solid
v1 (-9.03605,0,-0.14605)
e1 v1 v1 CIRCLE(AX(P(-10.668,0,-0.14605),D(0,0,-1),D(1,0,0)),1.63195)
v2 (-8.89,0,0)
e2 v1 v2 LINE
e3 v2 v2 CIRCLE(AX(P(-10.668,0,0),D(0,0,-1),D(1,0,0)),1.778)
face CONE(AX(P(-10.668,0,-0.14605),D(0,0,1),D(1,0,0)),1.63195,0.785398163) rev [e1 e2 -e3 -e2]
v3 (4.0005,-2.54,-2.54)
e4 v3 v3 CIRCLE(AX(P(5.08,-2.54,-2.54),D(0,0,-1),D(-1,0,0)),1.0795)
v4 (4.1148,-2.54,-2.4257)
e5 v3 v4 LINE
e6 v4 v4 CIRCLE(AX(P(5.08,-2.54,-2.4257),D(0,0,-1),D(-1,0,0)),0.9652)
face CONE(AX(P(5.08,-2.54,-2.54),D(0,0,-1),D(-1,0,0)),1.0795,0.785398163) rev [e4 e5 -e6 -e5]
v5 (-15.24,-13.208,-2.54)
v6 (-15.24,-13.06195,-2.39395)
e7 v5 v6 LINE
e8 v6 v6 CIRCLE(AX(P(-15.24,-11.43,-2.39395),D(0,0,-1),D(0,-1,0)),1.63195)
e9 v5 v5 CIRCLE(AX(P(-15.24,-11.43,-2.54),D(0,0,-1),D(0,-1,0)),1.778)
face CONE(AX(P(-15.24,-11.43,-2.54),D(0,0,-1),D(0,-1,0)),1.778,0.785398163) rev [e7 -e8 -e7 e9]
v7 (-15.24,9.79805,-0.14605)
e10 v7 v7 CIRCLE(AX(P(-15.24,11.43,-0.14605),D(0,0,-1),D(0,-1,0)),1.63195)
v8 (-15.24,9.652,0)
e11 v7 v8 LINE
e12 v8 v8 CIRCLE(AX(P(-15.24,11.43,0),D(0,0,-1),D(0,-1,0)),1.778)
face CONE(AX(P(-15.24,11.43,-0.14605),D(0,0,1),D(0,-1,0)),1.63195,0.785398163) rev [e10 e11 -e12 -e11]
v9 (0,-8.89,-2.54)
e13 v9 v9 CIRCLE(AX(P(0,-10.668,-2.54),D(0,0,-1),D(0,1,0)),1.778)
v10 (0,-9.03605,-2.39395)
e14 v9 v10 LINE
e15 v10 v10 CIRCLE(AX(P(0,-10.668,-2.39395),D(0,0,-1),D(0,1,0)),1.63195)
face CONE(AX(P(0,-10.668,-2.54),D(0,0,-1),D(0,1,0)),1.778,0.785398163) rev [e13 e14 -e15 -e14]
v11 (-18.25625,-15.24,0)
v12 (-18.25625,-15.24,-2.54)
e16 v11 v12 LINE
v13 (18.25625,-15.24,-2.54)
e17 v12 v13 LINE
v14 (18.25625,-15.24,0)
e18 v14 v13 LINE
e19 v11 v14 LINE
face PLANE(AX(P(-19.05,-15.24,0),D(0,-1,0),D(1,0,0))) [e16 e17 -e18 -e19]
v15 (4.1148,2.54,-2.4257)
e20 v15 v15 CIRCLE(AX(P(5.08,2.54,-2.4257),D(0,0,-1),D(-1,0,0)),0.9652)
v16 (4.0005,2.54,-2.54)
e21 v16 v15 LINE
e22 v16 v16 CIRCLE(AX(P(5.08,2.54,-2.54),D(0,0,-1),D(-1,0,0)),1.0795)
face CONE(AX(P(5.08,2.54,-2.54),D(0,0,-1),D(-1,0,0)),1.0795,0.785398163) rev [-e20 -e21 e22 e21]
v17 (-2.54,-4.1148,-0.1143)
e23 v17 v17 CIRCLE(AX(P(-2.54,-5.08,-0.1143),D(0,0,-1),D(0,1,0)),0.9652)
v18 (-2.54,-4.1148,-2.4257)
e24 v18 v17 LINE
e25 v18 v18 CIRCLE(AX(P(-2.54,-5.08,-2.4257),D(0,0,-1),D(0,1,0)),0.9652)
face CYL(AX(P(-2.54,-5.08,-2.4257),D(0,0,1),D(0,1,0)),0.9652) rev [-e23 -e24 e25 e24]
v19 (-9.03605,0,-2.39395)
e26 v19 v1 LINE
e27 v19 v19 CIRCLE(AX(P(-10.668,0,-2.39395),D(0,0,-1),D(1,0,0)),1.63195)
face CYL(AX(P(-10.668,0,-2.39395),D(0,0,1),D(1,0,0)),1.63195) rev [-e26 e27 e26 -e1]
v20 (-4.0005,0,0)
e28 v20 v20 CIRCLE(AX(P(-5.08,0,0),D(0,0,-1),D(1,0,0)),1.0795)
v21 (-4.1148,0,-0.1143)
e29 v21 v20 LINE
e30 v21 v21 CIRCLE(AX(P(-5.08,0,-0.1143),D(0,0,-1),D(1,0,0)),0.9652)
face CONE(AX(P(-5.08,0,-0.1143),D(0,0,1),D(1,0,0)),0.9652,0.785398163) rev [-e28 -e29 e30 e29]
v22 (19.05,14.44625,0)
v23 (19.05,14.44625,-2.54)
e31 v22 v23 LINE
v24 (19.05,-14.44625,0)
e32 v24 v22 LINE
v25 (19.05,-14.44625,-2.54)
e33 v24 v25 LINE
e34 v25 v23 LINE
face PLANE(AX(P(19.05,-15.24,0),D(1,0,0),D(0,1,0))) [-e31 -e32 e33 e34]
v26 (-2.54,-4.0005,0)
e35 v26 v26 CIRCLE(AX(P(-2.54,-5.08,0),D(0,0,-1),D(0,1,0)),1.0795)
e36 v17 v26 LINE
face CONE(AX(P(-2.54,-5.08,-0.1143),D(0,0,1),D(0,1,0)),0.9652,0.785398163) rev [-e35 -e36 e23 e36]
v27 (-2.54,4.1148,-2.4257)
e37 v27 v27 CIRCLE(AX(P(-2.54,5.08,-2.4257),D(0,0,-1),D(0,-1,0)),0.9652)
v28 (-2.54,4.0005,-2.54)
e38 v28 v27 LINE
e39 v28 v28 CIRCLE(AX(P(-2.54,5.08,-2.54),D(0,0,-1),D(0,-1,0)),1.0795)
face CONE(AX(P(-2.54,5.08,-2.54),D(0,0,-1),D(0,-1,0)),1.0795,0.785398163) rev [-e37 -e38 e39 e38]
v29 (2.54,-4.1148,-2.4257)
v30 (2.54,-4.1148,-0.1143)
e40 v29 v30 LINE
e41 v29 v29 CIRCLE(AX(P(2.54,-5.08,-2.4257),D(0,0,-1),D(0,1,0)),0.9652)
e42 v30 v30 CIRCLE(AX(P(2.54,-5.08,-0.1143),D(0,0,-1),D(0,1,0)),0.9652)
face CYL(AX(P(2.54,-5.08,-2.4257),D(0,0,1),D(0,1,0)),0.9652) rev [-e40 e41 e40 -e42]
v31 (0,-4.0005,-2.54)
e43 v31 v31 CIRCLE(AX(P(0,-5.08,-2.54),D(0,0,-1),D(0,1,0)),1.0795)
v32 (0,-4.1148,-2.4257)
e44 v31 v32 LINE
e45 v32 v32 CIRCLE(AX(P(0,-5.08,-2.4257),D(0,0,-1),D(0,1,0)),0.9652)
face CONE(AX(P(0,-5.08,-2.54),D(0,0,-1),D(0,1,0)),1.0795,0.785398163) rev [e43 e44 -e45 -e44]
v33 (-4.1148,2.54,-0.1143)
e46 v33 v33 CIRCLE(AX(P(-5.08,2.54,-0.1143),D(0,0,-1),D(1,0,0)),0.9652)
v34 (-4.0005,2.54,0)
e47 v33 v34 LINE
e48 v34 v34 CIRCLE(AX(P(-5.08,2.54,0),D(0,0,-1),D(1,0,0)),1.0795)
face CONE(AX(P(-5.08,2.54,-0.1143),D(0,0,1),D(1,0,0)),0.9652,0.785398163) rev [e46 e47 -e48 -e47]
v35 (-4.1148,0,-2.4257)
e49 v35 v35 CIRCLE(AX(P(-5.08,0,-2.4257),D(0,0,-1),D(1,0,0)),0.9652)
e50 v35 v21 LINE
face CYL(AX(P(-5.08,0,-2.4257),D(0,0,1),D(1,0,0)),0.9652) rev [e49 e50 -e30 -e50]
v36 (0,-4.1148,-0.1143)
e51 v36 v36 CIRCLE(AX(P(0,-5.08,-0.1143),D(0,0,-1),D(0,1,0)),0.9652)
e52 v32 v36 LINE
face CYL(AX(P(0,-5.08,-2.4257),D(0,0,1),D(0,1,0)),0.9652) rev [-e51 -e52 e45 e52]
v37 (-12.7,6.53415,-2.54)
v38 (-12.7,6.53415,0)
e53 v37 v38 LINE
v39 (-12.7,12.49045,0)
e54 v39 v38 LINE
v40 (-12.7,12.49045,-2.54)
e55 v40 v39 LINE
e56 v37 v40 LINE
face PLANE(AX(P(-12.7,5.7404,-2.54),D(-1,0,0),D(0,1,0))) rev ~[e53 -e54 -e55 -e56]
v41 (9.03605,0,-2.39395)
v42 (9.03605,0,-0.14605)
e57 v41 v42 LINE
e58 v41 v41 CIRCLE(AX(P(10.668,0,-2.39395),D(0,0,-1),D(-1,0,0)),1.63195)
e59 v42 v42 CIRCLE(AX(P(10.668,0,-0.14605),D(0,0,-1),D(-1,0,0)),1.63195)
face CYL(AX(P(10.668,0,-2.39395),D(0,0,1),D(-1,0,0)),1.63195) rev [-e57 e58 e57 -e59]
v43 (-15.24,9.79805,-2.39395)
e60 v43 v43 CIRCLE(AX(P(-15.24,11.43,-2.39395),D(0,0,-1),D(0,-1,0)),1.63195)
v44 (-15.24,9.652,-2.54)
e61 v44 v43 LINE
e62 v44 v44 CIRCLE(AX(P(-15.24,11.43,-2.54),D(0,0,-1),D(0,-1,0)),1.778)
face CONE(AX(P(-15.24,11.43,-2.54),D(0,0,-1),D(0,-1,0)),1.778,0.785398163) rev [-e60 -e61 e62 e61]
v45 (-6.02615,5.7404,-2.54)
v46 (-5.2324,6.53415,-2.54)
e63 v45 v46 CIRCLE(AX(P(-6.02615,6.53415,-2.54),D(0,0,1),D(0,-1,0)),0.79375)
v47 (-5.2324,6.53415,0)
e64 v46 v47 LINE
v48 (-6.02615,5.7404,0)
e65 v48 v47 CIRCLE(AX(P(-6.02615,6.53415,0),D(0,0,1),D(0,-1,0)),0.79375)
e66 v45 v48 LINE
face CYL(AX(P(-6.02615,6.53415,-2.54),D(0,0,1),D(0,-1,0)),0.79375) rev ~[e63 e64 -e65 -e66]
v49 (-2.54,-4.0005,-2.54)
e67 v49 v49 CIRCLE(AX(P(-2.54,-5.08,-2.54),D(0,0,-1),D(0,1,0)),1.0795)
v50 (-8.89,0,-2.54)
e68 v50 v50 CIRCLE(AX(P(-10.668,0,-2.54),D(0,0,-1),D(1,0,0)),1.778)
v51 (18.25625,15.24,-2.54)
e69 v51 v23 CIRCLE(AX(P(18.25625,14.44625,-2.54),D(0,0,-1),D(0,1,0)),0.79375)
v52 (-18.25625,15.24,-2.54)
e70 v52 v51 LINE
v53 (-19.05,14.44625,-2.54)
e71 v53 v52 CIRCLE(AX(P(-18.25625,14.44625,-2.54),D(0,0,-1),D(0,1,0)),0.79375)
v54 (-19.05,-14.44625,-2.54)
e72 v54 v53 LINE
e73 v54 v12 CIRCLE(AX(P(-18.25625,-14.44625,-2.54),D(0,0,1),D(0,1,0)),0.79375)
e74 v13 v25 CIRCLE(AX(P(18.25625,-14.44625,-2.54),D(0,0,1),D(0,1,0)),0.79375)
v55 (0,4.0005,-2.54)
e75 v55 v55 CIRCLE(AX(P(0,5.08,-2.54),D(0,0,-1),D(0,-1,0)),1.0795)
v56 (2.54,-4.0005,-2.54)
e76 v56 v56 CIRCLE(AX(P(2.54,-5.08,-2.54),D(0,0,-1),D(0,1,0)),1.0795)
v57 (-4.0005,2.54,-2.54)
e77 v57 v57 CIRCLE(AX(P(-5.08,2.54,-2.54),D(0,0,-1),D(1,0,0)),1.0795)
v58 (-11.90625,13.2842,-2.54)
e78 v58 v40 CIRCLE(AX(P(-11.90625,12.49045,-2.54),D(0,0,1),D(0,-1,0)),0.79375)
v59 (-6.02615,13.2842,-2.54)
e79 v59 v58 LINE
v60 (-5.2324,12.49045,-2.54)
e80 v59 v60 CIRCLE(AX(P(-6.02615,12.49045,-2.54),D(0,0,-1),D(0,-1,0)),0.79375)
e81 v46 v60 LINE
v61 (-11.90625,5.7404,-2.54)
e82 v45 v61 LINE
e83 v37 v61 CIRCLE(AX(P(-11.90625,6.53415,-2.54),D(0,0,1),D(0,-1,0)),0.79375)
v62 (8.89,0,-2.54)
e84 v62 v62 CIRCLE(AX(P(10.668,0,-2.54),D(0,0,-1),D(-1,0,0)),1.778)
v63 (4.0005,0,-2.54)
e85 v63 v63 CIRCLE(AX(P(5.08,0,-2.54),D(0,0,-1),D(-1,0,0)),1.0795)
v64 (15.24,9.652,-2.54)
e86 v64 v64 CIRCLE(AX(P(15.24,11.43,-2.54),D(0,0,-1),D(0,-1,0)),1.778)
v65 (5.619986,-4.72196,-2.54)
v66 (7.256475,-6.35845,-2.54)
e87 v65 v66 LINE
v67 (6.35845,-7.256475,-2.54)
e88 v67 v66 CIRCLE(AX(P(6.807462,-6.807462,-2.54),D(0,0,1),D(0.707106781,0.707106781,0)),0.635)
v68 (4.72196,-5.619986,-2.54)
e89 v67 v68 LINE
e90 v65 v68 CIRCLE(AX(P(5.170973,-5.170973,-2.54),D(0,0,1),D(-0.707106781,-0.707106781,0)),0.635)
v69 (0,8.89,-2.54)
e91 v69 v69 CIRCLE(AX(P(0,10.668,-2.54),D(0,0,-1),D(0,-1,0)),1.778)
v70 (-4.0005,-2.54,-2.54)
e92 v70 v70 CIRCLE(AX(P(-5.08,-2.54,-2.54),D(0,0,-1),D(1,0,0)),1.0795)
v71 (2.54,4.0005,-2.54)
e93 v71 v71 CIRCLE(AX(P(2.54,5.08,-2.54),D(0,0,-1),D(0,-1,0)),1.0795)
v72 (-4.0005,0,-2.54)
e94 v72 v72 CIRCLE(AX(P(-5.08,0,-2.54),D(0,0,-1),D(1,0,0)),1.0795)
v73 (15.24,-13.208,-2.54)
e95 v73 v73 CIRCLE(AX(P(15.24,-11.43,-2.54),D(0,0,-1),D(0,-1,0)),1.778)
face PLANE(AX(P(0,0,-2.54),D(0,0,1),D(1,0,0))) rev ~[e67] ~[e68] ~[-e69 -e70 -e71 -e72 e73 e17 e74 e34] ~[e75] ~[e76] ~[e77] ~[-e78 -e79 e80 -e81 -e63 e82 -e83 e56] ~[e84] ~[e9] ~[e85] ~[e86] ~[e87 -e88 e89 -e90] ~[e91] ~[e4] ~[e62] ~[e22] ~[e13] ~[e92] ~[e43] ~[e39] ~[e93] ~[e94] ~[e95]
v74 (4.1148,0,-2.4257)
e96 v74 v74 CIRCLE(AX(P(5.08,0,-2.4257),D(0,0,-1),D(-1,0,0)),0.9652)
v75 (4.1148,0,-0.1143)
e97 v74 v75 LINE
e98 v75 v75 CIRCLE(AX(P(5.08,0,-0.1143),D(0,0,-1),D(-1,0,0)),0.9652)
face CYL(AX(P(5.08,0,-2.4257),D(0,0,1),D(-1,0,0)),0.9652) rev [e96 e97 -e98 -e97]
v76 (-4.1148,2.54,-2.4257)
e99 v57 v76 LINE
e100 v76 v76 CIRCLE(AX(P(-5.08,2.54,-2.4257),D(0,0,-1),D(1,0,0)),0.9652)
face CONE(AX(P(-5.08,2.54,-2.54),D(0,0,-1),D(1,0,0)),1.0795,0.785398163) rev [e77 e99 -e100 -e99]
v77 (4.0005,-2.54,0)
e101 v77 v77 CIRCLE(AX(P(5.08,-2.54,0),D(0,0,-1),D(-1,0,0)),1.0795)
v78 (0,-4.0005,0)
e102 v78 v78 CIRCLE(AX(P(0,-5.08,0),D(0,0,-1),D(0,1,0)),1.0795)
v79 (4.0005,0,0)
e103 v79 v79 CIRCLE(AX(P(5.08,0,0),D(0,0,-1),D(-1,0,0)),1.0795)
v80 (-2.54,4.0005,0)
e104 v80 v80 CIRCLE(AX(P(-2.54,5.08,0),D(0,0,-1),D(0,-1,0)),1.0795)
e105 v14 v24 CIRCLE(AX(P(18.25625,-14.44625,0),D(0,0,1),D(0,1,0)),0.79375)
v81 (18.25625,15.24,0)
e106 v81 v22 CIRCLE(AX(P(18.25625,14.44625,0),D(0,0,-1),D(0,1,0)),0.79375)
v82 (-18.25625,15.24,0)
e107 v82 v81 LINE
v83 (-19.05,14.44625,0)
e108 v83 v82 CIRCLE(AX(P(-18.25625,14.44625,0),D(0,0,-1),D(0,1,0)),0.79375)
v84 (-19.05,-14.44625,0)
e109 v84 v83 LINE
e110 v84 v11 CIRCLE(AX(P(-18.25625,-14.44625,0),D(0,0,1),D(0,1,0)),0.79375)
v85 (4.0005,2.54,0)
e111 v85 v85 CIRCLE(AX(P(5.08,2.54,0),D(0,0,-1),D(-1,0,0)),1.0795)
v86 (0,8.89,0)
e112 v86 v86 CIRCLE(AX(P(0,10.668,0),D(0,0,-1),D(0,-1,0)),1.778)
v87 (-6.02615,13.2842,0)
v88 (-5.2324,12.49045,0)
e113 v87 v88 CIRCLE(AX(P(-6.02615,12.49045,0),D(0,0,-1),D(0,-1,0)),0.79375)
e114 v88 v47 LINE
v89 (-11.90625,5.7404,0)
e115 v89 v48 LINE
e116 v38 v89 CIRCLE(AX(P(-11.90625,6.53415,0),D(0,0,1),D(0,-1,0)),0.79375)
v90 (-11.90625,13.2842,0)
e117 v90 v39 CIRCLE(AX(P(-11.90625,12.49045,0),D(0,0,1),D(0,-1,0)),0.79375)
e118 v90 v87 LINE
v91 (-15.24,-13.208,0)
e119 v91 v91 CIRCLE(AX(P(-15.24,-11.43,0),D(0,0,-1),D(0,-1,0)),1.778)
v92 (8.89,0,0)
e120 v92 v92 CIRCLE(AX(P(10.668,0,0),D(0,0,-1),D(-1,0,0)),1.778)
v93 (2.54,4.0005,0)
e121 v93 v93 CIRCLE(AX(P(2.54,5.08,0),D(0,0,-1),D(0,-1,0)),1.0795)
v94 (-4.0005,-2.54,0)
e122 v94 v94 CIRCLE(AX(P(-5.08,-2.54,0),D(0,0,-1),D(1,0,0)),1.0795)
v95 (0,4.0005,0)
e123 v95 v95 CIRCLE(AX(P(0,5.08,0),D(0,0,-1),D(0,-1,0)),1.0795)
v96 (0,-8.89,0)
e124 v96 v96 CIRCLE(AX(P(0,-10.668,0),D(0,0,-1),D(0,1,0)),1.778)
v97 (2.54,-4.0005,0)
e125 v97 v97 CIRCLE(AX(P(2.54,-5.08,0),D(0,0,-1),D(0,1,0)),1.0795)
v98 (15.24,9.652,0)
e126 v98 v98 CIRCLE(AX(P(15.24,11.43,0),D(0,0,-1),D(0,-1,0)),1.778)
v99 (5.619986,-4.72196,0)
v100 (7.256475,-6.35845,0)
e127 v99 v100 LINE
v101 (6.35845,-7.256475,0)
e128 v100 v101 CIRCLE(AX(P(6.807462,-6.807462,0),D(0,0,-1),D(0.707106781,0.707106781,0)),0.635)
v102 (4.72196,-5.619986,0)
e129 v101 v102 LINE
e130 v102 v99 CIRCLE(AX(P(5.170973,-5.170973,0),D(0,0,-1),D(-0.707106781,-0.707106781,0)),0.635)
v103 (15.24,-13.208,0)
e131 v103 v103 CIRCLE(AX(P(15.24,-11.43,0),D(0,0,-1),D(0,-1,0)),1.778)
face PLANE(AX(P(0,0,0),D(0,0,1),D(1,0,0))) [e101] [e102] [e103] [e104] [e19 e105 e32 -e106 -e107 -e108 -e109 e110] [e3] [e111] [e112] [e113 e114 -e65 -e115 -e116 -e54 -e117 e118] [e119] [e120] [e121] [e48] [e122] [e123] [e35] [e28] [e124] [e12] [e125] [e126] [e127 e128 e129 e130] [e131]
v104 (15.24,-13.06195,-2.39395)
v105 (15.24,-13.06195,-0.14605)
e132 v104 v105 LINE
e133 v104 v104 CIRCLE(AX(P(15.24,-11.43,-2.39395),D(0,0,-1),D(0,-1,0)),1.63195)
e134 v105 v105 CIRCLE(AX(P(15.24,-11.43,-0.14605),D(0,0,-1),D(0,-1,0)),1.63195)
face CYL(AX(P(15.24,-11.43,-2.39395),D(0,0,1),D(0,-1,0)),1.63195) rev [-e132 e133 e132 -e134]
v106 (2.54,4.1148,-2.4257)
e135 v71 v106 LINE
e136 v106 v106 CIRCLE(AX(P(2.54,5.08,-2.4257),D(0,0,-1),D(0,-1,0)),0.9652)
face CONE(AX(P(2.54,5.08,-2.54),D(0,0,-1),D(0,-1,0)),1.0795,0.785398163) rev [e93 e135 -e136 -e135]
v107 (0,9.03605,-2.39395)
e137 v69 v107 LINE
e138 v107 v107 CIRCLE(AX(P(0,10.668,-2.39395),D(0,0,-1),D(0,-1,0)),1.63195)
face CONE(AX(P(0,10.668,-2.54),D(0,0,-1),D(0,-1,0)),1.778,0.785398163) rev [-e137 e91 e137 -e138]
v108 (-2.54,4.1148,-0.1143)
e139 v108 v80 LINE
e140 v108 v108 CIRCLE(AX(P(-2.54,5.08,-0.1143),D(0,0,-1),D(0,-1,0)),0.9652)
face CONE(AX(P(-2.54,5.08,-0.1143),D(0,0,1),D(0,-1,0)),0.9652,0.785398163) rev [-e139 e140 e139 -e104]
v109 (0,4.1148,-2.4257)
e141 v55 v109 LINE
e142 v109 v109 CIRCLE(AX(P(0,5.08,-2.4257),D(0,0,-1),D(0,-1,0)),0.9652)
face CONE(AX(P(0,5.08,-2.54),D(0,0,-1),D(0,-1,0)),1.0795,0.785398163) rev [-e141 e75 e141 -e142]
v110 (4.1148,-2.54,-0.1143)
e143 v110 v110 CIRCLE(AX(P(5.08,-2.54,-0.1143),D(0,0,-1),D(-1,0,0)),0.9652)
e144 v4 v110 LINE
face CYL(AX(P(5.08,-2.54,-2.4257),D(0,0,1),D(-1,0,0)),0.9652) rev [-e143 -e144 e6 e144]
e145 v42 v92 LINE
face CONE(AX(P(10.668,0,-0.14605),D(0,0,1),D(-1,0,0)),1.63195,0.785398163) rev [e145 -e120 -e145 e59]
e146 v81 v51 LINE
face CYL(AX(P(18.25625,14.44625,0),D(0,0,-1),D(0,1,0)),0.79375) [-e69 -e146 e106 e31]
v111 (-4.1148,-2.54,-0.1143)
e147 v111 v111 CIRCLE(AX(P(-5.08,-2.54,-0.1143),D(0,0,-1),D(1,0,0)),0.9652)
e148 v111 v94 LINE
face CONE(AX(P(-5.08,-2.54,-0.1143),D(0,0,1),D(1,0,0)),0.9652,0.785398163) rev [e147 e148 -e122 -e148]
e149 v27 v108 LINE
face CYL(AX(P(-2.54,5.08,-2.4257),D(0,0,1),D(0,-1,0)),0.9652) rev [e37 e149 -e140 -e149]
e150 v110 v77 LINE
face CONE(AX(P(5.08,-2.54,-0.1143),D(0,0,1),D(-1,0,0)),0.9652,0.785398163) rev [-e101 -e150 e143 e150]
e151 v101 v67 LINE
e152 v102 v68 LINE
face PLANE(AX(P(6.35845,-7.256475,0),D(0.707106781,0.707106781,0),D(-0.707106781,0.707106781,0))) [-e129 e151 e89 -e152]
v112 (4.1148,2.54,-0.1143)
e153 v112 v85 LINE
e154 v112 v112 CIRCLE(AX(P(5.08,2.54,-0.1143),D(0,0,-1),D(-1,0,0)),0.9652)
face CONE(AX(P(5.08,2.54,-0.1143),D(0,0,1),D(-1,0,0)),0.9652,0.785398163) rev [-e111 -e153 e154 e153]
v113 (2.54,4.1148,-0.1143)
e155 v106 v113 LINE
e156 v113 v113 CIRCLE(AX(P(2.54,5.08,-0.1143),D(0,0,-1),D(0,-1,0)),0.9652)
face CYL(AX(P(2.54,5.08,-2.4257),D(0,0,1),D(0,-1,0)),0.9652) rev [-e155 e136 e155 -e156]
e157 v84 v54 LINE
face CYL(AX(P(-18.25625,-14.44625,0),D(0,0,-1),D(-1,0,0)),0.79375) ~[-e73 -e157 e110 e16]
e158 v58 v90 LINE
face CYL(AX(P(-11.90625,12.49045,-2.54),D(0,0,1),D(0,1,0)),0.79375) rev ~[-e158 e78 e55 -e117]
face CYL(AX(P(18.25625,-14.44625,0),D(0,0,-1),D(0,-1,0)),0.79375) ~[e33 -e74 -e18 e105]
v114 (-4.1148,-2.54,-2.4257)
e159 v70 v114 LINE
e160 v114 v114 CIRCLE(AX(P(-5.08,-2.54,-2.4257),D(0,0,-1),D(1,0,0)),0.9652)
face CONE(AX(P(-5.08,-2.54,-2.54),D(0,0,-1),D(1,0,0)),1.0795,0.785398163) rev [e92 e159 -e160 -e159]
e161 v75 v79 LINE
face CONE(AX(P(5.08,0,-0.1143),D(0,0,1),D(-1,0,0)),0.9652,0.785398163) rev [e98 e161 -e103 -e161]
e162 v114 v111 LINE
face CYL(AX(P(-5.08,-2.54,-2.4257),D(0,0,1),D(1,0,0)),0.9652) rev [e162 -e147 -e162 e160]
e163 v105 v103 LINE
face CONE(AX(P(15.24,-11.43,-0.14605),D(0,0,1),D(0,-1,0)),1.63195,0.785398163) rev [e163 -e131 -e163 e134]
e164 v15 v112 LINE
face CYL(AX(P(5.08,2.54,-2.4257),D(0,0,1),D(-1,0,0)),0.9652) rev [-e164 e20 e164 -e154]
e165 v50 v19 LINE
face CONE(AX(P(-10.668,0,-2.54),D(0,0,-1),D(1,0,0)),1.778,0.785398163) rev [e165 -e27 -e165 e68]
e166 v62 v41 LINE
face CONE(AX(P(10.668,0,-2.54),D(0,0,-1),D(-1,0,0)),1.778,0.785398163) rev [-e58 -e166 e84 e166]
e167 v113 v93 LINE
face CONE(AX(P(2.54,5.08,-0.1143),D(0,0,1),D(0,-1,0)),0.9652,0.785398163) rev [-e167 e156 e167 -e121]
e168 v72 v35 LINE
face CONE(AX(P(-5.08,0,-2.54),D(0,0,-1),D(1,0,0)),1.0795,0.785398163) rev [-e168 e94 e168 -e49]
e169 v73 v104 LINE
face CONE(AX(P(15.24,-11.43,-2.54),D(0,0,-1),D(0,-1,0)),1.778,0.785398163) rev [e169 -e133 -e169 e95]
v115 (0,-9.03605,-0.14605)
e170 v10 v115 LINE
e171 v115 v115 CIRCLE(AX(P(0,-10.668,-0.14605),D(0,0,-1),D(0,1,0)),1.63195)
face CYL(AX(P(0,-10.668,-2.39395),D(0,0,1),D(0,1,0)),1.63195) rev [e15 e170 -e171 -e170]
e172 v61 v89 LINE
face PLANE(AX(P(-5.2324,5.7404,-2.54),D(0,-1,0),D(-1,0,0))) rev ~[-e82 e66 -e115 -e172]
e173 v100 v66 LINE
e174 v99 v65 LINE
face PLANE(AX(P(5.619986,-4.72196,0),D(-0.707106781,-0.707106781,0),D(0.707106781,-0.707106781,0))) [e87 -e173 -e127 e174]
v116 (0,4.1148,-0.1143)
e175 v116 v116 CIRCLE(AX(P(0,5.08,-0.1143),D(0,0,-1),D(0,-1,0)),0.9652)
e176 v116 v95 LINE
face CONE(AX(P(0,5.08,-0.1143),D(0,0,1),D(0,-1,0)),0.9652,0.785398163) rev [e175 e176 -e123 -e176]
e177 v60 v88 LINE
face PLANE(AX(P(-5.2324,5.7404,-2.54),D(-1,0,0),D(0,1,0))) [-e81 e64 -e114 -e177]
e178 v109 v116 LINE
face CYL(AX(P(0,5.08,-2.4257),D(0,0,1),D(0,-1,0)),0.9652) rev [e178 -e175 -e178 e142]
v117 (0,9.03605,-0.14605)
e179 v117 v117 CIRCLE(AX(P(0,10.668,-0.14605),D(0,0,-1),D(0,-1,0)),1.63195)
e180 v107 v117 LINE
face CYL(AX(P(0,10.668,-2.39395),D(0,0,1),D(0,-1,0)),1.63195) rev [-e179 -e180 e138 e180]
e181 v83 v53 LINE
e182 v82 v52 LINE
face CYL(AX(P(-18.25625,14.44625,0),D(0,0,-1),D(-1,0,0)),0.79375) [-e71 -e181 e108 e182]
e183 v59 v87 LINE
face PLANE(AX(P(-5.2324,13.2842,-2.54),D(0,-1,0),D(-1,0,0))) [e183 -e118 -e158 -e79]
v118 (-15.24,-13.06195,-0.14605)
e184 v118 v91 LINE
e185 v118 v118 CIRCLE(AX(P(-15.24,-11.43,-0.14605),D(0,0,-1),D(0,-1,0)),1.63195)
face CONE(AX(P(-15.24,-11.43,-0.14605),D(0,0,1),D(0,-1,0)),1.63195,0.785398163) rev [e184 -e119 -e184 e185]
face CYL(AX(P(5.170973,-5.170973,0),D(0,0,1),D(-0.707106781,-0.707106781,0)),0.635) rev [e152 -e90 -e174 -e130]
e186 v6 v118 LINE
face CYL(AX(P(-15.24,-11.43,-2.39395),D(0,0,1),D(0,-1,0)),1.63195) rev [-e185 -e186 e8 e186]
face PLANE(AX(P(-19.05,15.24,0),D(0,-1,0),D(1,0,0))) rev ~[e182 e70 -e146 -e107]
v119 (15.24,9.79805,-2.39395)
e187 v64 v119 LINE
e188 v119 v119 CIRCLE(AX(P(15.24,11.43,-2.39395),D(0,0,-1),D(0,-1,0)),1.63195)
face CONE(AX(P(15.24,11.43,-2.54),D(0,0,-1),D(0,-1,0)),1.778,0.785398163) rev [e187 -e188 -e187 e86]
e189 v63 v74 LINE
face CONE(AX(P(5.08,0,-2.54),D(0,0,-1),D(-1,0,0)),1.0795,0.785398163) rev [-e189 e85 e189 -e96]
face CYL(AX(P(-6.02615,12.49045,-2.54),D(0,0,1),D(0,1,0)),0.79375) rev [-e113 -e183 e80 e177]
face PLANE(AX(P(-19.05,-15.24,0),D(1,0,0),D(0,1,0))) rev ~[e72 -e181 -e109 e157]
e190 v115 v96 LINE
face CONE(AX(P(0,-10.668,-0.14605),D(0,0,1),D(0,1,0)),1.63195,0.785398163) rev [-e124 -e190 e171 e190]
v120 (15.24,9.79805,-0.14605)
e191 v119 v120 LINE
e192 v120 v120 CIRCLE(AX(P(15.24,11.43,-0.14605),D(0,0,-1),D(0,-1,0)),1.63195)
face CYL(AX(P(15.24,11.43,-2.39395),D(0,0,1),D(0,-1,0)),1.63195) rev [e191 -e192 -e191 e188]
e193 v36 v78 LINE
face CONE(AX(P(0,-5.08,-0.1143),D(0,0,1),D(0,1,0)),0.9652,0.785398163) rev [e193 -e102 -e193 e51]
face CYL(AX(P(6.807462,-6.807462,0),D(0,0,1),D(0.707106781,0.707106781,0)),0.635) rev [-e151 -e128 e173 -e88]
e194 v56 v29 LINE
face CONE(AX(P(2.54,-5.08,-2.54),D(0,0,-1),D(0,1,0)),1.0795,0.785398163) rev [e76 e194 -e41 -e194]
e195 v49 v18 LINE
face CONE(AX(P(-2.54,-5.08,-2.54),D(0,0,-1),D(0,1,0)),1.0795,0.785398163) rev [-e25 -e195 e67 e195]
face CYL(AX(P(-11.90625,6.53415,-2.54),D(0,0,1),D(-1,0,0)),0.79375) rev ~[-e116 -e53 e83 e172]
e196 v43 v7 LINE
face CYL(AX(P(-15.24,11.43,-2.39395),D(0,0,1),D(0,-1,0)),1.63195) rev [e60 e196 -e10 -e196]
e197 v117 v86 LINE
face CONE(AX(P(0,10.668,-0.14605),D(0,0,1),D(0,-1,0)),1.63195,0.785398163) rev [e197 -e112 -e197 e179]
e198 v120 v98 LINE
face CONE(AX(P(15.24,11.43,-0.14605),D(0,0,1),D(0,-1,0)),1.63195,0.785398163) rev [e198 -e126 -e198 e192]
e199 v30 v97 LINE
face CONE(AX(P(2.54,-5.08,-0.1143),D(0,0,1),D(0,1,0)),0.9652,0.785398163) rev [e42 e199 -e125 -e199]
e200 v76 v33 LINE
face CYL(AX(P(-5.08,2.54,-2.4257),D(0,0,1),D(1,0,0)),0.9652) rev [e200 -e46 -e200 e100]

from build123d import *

# Parameters (mm, degrees)
SKETCH1_W                            = 38.1
SKETCH1_H                            = 30.48
BOSS_EXTRUDE1_DEPTH                  = 2.54
F_48_0_076_DIAMETER_HOLE1_AT_2_COUNT = 2
F_48_0_076_DIAMETER_HOLE1_AT_2_PITCH = 2.54
F_48_0_076_DIAMETER_HOLE1_AT_3_COUNT = 2
F_48_0_076_DIAMETER_HOLE1_AT_3_PITCH = 2.54
CIRPATTERN1_COUNT                    = 4
F_4_CLEARANCE_HOLE3_AT_2_COUNT       = 2
F_4_CLEARANCE_HOLE3_AT_2_PITCH       = 30.48
F_4_CLEARANCE_HOLE3_AT_3_COUNT       = 2
F_4_CLEARANCE_HOLE3_AT_3_PITCH       = 38.1
F_4_CLEARANCE_HOLE3_AT_4_COUNT       = 2
F_4_CLEARANCE_HOLE3_AT_4_PITCH       = 22.86
SKETCH10_W                           = 7.4676
SKETCH10_H                           = 7.5438
CUT_EXTRUDE1_DEPTH                   = 3.54
FILLET1_R                            = 0.79375
CUT_EXTRUDE2_DEPTH                   = 3.54


with BuildPart() as part:
    # Sketch1 → Boss-Extrude1 (new body)
    with BuildSketch(Plane.XY):
        Rectangle(SKETCH1_W, SKETCH1_H)
    extrude(amount=-BOSS_EXTRUDE1_DEPTH)

    # Sketch2 → 48 _0.076_ Diameter Hole1 (revolve, cut)
    with BuildSketch(Plane(origin=(0, 5.08, 0), x_dir=(0, -1, 0), z_dir=(1, 0, 0))):
        Polygon((0, 0), (0, 2.54), (1.0795, 2.54), (0.9652, 2.4257), (0.9652, 0.1143), (1.0795, 0), align=None)
    f_48_0_076_diameter_hole1 = revolve(axis=Axis((0, 5.08, 6.35), (0, 0, -1)), mode=Mode.SUBTRACT)

    # 48 _0.076_ Diameter Hole1 at 2: 48 _0.076_ Diameter Hole1 ×2
    with Locations(*[(i * F_48_0_076_DIAMETER_HOLE1_AT_2_PITCH, 0, 0) for i in range(1, F_48_0_076_DIAMETER_HOLE1_AT_2_COUNT)]):
        add(f_48_0_076_diameter_hole1, mode=Mode.SUBTRACT)

    # 48 _0.076_ Diameter Hole1 at 3: 48 _0.076_ Diameter Hole1 ×2
    with Locations(*[(-i * F_48_0_076_DIAMETER_HOLE1_AT_3_PITCH, 0, 0) for i in range(1, F_48_0_076_DIAMETER_HOLE1_AT_3_COUNT)]):
        add(f_48_0_076_diameter_hole1, mode=Mode.SUBTRACT)

    # Sketch4 → 4 Clearance Hole4 (revolve, cut)
    with BuildSketch(Plane(origin=(0, 10.668, 0), x_dir=(0, -1, 0), z_dir=(1, 0, 0))):
        Polygon((0, 0), (0, 2.54), (1.778, 2.54), (1.63195, 2.39395), (1.63195, 0.14605), (1.778, 0), align=None)
    f_4_clearance_hole4 = revolve(axis=Axis((0, 10.668, 6.35), (0, 0, -1)), mode=Mode.SUBTRACT)

    # CirPattern1: 48 _0.076_ Diameter Hole1, 4 Clearance Hole4 ×4 about axis
    cirpattern1_axis = Axis((0, 0, 0), (0, 0, 1))
    add([f_48_0_076_diameter_hole1.rotate(cirpattern1_axis, i * 360 / CIRPATTERN1_COUNT) for i in range(1, CIRPATTERN1_COUNT)], mode=Mode.SUBTRACT)
    add([f_4_clearance_hole4.rotate(cirpattern1_axis, i * 360 / CIRPATTERN1_COUNT) for i in range(1, CIRPATTERN1_COUNT)], mode=Mode.SUBTRACT)

    # CirPattern1 copy 1 sketch → CirPattern1 copy 1 (revolve, cut)
    with BuildSketch(Plane(origin=(-5.08, 2.54, 0), x_dir=(1, 0, 0), z_dir=(0, 1, 0))):
        Polygon((0, 0), (0, 2.54), (1.0795, 2.54), (0.9652, 2.4257), (0.9652, 0.1143), (1.0795, 0), align=None)
    revolve(axis=Axis((-5.08, 2.54, 6.35), (0, 0, -1)), mode=Mode.SUBTRACT)

    # CirPattern1 copy 2 sketch → CirPattern1 copy 2 (revolve, cut)
    with BuildSketch(Plane(origin=(-2.54, -5.08, 0), x_dir=(0, 1, 0), z_dir=(-1, 0, 0))):
        Polygon((0, 0), (0, 2.54), (1.0795, 2.54), (0.9652, 2.4257), (0.9652, 0.1143), (1.0795, 0), align=None)
    revolve(axis=Axis((-2.54, -5.08, 6.35), (0, 0, -1)), mode=Mode.SUBTRACT)

    # CirPattern1 copy 3 sketch → CirPattern1 copy 3 (revolve, cut)
    with BuildSketch(Plane(origin=(5.08, -2.54, 0), x_dir=(-1, 0, 0), z_dir=(0, -1, 0))):
        Polygon((0, 0), (0, 2.54), (1.0795, 2.54), (0.9652, 2.4257), (0.9652, 0.1143), (1.0795, 0), align=None)
    revolve(axis=Axis((5.08, -2.54, 6.35), (0, 0, -1)), mode=Mode.SUBTRACT)

    # CirPattern1 copy 4 sketch → CirPattern1 copy 4 (revolve, cut)
    with BuildSketch(Plane(origin=(-5.08, -2.54, 0), x_dir=(1, 0, 0), z_dir=(0, 1, 0))):
        Polygon((0, 0), (0, 2.54), (1.0795, 2.54), (0.9652, 2.4257), (0.9652, 0.1143), (1.0795, 0), align=None)
    revolve(axis=Axis((-5.08, -2.54, 6.35), (0, 0, -1)), mode=Mode.SUBTRACT)

    # CirPattern1 copy 5 sketch → CirPattern1 copy 5 (revolve, cut)
    with BuildSketch(Plane(origin=(2.54, -5.08, 0), x_dir=(0, 1, 0), z_dir=(-1, 0, 0))):
        Polygon((0, 0), (0, 2.54), (1.0795, 2.54), (0.9652, 2.4257), (0.9652, 0.1143), (1.0795, 0), align=None)
    revolve(axis=Axis((2.54, -5.08, 6.35), (0, 0, -1)), mode=Mode.SUBTRACT)

    # CirPattern1 copy 6 sketch → CirPattern1 copy 6 (revolve, cut)
    with BuildSketch(Plane(origin=(5.08, 2.54, 0), x_dir=(-1, 0, 0), z_dir=(0, -1, 0))):
        Polygon((0, 0), (0, 2.54), (1.0795, 2.54), (0.9652, 2.4257), (0.9652, 0.1143), (1.0795, 0), align=None)
    revolve(axis=Axis((5.08, 2.54, 6.35), (0, 0, -1)), mode=Mode.SUBTRACT)

    # Sketch8 → 4 Clearance Hole3 (revolve, cut)
    with BuildSketch(Plane(origin=(-15.24, 11.43, 0), x_dir=(0, -1, 0), z_dir=(1, 0, 0))):
        Polygon((0, 0), (0, 2.54), (1.778, 2.54), (1.63195, 2.39395), (1.63195, 0.14605), (1.778, 0), align=None)
    f_4_clearance_hole3 = revolve(axis=Axis((-15.24, 11.43, 6.35), (0, 0, -1)), mode=Mode.SUBTRACT)

    # 4 Clearance Hole3 at 2: 4 Clearance Hole3 ×2
    with Locations(*[(i * F_4_CLEARANCE_HOLE3_AT_2_PITCH, 0, 0) for i in range(1, F_4_CLEARANCE_HOLE3_AT_2_COUNT)]):
        add(f_4_clearance_hole3, mode=Mode.SUBTRACT)

    # 4 Clearance Hole3 at 3: 4 Clearance Hole3 ×2
    with Locations(*[Vector(0.8, -0.6, 0) * (i * F_4_CLEARANCE_HOLE3_AT_3_PITCH) for i in range(1, F_4_CLEARANCE_HOLE3_AT_3_COUNT)]):
        add(f_4_clearance_hole3, mode=Mode.SUBTRACT)

    # 4 Clearance Hole3 at 4: 4 Clearance Hole3 ×2
    with Locations(*[(0, -i * F_4_CLEARANCE_HOLE3_AT_4_PITCH, 0) for i in range(1, F_4_CLEARANCE_HOLE3_AT_4_COUNT)]):
        add(f_4_clearance_hole3, mode=Mode.SUBTRACT)

    # Sketch10 → Cut-Extrude1 (cut, through all)
    with BuildSketch(Plane(origin=(0, 0, -2.54), x_dir=(-1, 0, 0), z_dir=(0, 0, -1))):
        with Locations((8.9662, 9.5123)):
            Rectangle(SKETCH10_W, SKETCH10_H)
    extrude(amount=-CUT_EXTRUDE1_DEPTH, mode=Mode.SUBTRACT)

    # Fillet1
    fillet1_edges = [part.edges().sort_by_distance(p)[0] for p in [
        (-12.7, 13.2842, -1.27),
        (-12.7, 5.7404, -1.27),
        (-5.2324, 5.7404, -1.27),
        (-5.2324, 13.2842, -1.27),
        (19.05, -15.24, -1.27),
        (-19.05, -15.24, -1.27),
        (-19.05, 15.24, -1.27),
        (19.05, 15.24, -1.27),
    ]]
    fillet(fillet1_edges, radius=FILLET1_R)

    # Sketch11 → Cut-Extrude2 (cut, through all)
    with BuildSketch(Plane.XY):
        with BuildLine():
            Line((5.619985846, -4.721960234), (7.256475174, -6.358449562))
            ThreePointArc((7.256475174, -6.358449562), (7.256475174, -7.256475174), (6.358449562, -7.256475174))
            Line((6.358449562, -7.256475174), (4.721960234, -5.619985846))
            ThreePointArc((4.721960234, -5.619985846), (4.721960234, -4.721960234), (5.619985846, -4.721960234))
        make_face()
    extrude(amount=-CUT_EXTRUDE2_DEPTH, mode=Mode.SUBTRACT)


solid = part.part
